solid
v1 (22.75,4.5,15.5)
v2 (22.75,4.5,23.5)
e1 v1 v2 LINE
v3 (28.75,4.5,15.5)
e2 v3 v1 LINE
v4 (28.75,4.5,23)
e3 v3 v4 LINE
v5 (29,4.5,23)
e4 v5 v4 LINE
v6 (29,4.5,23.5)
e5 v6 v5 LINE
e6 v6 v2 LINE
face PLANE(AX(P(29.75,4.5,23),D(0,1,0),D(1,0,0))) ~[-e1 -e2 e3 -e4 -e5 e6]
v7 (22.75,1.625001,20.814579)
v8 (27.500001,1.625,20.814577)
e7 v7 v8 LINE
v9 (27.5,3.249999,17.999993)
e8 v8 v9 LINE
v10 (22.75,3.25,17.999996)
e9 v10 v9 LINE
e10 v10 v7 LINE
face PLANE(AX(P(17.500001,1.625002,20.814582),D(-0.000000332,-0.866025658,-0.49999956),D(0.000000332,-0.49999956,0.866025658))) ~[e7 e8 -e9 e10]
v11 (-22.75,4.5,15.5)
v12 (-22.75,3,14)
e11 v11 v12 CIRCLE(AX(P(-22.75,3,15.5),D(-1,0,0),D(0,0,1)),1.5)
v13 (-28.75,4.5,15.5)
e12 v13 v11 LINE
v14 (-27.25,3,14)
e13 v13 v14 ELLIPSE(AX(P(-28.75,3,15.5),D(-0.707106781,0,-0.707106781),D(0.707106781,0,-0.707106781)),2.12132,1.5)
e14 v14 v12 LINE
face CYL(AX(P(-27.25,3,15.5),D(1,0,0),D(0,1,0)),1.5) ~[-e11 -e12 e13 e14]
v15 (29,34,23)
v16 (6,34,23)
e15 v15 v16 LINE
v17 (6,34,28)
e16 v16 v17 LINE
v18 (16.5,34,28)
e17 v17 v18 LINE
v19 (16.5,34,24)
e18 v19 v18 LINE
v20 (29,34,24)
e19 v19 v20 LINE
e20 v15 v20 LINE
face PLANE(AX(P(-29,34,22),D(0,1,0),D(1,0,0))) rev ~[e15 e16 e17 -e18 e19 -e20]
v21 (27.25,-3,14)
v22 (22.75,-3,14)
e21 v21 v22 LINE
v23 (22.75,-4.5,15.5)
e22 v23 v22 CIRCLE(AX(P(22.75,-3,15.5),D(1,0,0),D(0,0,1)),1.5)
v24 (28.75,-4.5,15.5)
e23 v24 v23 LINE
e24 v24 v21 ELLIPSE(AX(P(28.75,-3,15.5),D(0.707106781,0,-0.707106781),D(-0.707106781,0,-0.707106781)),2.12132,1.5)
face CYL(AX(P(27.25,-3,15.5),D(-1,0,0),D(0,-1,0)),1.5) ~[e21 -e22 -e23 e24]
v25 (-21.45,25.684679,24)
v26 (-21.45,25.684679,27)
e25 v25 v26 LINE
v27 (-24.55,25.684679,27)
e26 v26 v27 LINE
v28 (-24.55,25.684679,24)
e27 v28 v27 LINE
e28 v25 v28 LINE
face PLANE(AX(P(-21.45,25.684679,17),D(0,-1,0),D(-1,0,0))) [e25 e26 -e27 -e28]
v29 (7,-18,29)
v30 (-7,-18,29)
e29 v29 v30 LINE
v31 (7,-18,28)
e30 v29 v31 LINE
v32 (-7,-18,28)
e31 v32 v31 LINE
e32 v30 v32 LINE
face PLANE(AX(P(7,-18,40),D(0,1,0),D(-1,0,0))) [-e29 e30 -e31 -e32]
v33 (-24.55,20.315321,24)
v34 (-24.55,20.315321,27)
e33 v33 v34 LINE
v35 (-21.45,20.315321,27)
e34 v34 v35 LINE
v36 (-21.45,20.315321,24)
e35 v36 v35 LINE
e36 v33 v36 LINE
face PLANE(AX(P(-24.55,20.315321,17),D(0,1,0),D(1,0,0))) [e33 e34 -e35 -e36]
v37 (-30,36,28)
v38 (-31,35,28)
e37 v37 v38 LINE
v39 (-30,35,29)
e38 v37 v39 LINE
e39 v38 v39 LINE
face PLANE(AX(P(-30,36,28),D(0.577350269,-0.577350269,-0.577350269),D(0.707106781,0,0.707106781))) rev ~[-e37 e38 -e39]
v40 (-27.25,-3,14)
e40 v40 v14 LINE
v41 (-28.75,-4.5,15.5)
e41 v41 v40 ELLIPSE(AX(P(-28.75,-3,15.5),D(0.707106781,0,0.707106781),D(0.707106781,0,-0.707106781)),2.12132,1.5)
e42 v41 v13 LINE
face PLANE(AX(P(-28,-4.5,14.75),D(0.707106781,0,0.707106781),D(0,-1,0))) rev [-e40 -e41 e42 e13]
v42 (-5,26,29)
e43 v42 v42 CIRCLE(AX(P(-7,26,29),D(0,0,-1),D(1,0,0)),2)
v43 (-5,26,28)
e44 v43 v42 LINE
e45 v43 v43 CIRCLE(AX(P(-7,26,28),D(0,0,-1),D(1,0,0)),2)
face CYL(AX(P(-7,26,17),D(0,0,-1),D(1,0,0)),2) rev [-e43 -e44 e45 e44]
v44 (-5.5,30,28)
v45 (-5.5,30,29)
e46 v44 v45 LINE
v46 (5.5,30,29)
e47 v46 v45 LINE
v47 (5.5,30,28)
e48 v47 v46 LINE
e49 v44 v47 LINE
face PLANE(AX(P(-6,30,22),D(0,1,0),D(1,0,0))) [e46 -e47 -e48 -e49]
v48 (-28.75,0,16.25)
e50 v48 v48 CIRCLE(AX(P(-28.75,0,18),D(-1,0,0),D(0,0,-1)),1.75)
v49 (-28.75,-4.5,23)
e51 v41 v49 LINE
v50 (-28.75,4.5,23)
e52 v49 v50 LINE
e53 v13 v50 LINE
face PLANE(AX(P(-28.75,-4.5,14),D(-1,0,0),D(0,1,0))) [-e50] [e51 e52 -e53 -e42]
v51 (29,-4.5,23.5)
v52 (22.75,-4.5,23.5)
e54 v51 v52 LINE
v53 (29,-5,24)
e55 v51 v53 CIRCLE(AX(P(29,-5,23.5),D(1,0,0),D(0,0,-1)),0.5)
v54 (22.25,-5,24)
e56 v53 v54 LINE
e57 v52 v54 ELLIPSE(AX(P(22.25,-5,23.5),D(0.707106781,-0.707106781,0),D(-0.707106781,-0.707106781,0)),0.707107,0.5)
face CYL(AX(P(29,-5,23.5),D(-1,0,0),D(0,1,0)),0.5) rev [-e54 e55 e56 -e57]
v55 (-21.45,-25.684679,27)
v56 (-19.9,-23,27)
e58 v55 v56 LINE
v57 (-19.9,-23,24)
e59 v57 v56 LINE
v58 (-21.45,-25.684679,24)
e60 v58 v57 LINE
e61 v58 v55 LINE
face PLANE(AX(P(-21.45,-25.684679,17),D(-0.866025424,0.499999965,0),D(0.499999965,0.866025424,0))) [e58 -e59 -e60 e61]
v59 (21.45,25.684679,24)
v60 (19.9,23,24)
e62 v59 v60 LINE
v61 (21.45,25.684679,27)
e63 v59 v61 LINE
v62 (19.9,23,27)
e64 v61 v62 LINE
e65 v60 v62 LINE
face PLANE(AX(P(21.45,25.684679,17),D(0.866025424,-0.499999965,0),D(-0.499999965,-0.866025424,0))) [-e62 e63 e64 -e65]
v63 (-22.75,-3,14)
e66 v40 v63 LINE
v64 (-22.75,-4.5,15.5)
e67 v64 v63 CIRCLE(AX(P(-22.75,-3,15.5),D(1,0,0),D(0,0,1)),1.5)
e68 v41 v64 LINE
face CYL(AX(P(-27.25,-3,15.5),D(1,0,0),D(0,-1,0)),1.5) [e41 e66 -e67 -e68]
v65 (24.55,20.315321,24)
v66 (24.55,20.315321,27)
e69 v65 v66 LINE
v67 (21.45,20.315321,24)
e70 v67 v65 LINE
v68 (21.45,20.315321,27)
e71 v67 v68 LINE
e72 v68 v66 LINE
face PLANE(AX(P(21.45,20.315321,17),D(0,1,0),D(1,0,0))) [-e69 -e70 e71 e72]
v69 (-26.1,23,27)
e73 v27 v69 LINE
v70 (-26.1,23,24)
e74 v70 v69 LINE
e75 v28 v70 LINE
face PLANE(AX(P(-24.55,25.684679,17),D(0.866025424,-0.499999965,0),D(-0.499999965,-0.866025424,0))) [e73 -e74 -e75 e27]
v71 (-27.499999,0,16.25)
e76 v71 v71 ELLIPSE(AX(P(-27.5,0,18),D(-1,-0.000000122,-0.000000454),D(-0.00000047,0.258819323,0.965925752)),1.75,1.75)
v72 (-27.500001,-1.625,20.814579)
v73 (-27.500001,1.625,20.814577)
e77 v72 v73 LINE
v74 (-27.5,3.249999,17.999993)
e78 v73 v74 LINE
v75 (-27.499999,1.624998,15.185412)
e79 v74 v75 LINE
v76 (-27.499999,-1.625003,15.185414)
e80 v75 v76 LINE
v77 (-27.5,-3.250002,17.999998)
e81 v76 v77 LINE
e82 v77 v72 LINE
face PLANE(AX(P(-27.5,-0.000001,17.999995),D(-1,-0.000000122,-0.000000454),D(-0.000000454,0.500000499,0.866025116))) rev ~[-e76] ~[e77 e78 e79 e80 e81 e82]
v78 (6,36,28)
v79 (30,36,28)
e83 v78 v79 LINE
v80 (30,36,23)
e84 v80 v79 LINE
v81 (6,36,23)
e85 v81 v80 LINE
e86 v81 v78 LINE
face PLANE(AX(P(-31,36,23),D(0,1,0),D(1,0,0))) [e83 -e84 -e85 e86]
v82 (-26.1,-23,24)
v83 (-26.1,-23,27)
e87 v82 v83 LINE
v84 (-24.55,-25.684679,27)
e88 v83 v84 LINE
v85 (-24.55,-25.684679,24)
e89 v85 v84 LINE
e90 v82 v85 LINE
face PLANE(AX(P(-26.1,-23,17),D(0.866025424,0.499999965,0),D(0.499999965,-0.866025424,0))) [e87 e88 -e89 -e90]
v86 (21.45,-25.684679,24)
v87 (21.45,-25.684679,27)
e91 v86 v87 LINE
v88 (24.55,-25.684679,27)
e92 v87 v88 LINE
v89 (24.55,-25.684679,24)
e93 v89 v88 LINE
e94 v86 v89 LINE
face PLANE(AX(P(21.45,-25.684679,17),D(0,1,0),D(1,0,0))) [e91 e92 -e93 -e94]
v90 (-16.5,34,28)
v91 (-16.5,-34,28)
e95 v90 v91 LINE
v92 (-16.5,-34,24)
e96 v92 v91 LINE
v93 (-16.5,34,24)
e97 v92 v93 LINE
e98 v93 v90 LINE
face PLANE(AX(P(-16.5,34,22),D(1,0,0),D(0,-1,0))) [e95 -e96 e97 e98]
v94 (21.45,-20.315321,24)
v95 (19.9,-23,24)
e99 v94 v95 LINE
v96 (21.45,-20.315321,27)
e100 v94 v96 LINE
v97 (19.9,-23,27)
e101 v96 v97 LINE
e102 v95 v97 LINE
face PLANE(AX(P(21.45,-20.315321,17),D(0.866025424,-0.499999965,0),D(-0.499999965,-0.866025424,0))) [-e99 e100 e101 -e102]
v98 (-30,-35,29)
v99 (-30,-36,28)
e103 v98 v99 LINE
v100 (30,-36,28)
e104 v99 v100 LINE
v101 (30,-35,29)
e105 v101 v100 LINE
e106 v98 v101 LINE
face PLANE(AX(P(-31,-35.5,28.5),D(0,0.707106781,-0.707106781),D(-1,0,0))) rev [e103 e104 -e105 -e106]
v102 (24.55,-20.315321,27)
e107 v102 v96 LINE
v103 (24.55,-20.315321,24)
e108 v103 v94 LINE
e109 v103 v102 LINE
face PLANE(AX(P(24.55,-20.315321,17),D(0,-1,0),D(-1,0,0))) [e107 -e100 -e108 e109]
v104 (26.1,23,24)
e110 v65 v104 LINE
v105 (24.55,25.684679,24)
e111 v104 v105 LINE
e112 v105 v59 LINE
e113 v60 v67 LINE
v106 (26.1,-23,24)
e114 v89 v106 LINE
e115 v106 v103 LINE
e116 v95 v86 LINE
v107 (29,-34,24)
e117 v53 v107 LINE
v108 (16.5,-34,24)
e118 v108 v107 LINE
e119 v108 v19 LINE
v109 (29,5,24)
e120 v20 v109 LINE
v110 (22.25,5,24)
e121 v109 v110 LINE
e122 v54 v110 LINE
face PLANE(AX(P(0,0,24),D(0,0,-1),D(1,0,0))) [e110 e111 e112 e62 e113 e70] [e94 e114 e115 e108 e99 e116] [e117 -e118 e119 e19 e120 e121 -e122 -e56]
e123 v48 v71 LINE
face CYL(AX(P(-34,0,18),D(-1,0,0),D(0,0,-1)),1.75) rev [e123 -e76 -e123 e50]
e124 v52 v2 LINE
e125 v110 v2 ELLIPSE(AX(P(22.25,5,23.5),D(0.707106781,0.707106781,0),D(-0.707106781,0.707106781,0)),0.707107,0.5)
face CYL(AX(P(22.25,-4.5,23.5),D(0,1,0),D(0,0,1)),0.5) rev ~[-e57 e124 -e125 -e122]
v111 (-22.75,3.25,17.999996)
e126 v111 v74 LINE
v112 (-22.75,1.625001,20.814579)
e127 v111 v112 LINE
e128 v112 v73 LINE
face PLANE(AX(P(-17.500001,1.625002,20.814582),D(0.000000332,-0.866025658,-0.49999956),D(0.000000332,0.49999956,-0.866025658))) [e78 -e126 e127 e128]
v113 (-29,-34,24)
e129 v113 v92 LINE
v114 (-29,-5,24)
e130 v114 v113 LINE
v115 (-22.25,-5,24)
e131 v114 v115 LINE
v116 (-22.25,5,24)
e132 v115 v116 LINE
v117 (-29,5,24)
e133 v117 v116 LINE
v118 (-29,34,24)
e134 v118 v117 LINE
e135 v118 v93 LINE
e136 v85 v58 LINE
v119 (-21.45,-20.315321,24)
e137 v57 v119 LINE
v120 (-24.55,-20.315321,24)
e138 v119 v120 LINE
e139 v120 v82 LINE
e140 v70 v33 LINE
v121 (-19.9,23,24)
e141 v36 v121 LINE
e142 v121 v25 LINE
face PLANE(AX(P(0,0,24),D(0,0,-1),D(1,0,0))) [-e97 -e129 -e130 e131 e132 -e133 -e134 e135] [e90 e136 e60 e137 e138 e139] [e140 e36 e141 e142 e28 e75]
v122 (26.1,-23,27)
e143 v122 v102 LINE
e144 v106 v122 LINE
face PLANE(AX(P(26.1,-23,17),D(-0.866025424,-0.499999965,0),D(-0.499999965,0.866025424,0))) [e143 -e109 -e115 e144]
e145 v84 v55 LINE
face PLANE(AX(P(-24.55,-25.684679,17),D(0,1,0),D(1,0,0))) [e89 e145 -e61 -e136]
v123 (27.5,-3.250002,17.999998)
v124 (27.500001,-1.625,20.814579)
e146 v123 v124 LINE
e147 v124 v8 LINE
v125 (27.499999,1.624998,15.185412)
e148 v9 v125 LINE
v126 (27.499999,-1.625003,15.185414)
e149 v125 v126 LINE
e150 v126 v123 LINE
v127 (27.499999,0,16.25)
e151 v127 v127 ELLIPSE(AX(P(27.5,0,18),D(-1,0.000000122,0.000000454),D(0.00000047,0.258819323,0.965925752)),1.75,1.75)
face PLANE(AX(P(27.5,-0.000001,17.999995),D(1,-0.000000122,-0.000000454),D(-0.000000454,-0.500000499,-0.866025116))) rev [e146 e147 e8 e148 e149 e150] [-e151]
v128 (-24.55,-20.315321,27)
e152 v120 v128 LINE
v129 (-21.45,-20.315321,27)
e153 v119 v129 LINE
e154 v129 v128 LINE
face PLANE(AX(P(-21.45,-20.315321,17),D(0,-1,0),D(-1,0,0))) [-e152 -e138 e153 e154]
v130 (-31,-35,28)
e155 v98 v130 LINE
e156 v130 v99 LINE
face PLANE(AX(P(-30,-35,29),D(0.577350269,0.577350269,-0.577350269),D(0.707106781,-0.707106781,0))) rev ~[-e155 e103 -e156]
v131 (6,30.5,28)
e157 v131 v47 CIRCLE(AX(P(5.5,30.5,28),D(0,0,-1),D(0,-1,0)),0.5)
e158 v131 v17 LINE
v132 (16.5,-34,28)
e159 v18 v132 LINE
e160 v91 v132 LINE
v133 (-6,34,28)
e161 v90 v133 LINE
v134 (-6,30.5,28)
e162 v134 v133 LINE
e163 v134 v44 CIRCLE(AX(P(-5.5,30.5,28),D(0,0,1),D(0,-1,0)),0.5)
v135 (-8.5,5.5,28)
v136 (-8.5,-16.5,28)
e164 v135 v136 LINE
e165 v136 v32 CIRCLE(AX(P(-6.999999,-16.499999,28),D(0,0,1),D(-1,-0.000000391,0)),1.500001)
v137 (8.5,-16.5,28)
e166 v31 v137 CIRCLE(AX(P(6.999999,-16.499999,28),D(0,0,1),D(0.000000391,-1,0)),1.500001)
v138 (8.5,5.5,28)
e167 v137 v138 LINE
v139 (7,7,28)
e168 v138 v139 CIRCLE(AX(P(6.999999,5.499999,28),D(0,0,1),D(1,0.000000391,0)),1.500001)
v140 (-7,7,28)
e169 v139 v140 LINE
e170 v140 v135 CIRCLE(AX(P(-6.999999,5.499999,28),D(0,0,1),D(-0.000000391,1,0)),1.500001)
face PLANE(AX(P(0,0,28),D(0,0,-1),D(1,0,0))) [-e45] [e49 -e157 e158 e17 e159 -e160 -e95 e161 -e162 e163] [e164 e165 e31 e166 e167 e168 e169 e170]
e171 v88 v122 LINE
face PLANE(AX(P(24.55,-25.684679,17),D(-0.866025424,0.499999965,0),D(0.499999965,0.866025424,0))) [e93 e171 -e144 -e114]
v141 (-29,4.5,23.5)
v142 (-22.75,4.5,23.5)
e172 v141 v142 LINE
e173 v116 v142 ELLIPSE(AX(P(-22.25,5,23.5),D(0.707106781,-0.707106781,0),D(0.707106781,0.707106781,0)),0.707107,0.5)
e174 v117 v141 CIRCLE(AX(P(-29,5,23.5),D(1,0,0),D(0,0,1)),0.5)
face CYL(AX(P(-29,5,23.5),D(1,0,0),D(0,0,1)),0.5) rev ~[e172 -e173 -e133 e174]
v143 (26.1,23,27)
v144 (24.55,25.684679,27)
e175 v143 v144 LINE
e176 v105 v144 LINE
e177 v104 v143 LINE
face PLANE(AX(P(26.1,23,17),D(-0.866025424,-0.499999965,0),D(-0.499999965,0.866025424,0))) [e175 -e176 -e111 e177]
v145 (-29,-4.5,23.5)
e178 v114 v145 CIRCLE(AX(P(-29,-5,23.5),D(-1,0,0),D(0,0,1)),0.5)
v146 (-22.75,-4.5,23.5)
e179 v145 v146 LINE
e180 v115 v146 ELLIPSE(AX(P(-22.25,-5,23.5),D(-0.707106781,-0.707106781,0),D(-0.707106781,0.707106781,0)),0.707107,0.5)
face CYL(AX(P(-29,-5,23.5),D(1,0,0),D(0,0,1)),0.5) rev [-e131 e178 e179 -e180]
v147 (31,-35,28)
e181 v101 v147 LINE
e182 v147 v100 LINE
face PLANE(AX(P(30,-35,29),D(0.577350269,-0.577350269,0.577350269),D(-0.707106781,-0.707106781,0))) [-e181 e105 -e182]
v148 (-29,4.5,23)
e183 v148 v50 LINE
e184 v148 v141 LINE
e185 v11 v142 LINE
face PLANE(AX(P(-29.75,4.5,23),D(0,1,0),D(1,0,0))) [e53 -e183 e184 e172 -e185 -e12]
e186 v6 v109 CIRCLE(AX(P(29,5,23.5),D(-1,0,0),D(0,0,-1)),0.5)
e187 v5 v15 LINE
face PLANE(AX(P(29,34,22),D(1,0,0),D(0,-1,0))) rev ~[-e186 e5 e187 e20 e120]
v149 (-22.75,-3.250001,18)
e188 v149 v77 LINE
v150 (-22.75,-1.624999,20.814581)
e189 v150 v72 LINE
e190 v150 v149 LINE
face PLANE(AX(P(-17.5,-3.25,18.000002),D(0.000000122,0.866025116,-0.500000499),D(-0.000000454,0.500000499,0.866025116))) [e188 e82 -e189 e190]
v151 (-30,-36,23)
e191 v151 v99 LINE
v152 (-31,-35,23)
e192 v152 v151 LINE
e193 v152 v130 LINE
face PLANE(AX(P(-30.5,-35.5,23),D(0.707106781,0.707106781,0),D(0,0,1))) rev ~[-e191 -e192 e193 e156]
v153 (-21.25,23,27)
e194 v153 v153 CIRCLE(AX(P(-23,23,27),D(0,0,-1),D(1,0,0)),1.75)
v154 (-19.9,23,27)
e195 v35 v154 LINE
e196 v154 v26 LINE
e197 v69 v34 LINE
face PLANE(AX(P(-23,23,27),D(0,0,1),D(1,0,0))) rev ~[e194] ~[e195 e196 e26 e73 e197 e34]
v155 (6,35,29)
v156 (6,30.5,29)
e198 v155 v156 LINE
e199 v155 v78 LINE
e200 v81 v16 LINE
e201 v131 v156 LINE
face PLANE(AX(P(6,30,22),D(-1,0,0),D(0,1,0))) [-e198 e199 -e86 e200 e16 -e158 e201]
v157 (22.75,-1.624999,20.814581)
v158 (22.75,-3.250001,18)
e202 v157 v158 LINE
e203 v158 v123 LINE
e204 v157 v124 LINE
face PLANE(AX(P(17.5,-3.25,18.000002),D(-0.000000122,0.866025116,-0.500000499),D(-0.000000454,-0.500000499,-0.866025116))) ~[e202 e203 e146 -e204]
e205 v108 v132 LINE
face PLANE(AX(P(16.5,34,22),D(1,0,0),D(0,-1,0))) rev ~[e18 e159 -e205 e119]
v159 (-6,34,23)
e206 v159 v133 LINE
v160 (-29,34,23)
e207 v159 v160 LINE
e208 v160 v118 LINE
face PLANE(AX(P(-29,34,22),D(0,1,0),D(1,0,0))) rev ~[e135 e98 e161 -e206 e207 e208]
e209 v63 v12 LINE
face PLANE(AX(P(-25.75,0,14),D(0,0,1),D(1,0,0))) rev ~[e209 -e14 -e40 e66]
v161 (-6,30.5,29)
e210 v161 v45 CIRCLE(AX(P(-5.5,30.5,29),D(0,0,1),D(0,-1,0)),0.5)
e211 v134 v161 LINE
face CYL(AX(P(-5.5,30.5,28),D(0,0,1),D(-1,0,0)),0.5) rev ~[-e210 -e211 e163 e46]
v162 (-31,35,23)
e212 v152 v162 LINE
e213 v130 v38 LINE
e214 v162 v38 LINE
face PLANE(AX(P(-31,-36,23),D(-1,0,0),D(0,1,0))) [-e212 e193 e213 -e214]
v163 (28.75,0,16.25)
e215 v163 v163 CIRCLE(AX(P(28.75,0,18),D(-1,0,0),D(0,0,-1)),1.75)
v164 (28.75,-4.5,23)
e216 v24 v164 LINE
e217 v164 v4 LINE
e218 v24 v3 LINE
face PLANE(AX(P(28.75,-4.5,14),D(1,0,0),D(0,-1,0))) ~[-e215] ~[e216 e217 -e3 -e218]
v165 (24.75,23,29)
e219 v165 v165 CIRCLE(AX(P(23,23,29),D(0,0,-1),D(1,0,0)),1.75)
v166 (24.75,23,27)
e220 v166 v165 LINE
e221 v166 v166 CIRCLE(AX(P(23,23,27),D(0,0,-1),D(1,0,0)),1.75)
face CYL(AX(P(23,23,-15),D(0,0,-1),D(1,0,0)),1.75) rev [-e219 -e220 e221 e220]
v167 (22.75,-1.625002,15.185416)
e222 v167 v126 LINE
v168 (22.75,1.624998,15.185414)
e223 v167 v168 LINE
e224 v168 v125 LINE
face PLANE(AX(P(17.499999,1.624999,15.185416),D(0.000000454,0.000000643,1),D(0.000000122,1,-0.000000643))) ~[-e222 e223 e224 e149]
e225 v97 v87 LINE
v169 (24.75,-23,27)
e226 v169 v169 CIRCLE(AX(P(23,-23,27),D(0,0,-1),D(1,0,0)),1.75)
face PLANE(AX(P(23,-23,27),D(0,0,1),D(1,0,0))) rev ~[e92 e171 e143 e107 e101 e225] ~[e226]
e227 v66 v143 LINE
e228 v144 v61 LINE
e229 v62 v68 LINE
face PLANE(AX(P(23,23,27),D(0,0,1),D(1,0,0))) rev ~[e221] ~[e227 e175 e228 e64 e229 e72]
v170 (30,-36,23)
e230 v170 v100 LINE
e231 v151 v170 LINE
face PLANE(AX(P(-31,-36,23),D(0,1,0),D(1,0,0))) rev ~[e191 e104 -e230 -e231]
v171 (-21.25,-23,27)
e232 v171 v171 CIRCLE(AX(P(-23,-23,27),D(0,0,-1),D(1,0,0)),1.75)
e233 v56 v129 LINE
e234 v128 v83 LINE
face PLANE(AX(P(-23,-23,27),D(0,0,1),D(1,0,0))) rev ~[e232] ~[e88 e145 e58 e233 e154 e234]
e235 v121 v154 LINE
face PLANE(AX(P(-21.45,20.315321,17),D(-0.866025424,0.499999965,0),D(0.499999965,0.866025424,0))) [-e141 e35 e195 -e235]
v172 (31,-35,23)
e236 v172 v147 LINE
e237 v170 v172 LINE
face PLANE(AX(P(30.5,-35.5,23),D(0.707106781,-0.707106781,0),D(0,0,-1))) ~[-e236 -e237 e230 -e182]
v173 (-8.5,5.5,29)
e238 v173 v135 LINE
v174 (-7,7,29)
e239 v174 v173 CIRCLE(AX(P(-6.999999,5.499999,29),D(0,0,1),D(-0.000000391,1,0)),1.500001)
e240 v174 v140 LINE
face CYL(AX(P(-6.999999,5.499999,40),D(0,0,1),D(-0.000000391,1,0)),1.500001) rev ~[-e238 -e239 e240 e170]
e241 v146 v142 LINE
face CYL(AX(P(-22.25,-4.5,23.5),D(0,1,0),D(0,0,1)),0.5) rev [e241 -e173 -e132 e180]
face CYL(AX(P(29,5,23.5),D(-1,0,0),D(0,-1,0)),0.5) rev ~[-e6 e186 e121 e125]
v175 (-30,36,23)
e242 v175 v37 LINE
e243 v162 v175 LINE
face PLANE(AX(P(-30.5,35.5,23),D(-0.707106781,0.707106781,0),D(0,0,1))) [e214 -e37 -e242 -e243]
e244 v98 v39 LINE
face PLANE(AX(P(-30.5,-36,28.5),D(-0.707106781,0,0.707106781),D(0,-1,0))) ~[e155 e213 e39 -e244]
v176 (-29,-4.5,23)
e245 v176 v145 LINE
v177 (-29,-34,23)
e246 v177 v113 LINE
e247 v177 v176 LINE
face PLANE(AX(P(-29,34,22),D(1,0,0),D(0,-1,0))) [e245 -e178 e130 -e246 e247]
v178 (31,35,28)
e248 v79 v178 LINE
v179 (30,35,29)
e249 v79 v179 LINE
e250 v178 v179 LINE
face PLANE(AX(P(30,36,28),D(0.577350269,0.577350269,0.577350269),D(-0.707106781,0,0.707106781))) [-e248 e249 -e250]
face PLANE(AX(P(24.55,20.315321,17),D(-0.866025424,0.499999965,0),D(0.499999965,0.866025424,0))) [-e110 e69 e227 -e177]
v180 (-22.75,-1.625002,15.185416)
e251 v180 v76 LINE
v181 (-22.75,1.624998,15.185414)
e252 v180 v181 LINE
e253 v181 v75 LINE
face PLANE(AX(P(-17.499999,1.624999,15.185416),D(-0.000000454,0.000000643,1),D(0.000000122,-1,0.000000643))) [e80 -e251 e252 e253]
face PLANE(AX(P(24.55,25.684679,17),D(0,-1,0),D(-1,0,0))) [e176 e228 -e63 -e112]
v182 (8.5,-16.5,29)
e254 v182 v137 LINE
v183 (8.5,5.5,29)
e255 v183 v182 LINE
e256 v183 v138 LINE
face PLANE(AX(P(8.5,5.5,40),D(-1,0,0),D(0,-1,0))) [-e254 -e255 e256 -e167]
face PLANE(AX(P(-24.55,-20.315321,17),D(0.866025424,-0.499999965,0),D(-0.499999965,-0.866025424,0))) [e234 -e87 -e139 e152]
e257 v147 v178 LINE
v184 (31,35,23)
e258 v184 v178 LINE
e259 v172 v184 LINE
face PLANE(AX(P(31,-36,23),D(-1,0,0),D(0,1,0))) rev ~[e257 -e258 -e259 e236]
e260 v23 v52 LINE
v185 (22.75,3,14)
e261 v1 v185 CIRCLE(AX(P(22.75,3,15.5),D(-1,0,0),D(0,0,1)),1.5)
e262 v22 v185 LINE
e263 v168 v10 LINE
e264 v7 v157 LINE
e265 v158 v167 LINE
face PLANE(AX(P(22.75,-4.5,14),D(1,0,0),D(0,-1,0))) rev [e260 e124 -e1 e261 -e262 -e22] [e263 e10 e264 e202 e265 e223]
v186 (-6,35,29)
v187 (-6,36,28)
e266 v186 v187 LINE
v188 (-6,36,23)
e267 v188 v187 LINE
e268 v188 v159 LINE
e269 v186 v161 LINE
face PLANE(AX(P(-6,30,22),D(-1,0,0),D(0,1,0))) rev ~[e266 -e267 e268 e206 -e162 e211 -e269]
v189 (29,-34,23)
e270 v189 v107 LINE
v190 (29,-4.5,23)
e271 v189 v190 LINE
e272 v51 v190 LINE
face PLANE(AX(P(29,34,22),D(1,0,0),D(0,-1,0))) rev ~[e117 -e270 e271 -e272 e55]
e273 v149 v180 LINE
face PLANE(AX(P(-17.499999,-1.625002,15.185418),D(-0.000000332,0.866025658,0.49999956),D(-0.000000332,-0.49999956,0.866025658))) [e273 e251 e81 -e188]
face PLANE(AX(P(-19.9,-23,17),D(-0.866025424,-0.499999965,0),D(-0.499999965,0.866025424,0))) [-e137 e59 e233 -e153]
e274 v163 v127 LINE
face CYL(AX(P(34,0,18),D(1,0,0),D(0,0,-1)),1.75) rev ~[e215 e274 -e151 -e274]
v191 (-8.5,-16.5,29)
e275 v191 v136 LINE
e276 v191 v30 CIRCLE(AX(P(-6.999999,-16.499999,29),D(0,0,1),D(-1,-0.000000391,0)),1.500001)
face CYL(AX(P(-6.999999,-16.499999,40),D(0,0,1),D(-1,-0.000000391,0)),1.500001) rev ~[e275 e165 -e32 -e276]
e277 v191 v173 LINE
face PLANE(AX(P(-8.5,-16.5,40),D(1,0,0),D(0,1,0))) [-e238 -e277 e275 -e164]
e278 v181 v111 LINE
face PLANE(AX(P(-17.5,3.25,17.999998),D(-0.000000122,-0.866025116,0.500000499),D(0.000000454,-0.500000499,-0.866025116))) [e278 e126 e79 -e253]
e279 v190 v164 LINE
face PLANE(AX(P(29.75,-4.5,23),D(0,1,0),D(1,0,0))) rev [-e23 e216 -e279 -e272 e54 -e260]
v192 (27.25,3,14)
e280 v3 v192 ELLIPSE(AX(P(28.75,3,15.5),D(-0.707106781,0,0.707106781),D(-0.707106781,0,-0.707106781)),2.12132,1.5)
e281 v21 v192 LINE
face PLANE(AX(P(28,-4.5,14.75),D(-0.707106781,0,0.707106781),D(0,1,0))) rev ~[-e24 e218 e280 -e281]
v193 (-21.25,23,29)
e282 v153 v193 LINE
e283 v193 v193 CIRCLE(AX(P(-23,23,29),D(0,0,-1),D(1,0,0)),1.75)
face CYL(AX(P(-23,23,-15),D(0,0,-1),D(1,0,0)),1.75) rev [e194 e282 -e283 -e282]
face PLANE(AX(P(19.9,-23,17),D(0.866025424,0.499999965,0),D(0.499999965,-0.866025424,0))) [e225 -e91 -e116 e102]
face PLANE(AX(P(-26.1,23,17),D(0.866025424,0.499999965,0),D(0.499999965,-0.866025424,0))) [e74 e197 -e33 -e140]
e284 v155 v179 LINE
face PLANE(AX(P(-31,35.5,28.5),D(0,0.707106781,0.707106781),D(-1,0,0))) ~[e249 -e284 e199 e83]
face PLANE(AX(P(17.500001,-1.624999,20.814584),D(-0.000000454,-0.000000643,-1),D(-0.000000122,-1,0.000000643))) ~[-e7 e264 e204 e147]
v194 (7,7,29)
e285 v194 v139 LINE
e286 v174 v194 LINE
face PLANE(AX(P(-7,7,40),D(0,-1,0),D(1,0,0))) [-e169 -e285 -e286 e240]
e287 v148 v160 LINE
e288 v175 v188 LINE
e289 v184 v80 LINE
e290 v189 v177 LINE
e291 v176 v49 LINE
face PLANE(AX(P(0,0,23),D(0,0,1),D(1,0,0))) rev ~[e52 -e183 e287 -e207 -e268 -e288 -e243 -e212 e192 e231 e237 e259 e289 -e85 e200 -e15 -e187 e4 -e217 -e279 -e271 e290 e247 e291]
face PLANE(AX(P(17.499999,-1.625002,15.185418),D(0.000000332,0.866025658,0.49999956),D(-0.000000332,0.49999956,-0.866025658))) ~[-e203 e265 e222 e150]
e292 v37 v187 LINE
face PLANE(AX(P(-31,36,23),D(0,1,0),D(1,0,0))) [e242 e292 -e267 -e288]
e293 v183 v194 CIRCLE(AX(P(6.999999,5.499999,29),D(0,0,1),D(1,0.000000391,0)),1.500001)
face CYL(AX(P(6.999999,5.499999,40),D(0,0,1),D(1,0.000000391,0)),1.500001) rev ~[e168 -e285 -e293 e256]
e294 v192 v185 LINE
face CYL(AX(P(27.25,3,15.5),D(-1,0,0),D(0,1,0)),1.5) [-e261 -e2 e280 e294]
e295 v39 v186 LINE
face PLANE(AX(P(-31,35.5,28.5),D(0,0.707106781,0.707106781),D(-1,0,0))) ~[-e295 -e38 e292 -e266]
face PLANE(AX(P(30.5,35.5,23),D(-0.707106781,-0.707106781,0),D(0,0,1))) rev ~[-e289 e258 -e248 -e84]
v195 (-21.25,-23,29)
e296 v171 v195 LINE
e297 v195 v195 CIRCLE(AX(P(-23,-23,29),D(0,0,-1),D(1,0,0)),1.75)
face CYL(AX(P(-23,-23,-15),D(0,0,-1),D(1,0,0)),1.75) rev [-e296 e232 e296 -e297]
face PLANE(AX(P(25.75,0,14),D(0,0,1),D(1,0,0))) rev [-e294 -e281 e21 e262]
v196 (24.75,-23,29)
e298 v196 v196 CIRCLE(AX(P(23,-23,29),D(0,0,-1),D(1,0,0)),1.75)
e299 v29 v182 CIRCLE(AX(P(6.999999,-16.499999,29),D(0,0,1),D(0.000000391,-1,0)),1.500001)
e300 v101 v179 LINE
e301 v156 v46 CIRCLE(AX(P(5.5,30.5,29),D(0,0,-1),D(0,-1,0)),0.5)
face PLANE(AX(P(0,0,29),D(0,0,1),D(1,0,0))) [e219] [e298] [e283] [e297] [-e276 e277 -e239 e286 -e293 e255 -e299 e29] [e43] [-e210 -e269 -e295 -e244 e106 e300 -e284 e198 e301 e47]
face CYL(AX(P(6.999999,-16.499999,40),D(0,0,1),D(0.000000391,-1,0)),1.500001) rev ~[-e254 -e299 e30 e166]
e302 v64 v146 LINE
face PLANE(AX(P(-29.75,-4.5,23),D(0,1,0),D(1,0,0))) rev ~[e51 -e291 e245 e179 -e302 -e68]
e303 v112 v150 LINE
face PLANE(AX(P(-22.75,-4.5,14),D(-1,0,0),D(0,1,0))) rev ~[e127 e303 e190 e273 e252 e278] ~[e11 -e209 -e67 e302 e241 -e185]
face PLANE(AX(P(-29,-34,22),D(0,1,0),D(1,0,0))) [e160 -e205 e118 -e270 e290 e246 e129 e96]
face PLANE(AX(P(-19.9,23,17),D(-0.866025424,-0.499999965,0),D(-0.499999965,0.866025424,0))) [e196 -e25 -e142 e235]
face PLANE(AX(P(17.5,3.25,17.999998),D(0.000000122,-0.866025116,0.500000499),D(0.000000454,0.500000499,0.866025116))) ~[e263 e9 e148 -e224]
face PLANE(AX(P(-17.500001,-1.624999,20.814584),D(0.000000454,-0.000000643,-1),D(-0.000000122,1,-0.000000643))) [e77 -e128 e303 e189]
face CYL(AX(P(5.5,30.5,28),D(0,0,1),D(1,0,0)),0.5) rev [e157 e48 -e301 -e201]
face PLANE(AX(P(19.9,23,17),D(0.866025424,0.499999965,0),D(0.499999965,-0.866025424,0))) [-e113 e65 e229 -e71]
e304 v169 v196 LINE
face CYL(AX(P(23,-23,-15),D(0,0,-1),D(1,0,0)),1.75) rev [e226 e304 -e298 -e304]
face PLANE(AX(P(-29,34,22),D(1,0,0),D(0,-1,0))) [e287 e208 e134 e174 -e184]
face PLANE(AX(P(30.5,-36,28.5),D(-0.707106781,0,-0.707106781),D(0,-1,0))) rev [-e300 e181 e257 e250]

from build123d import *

# Parameters (mm, degrees)
CYLINDER021_R            = 2
CYLINDER021_DEPTH        = 15
BOX014_W                 = 4
BOX014_H                 = 9
BOX014_DEPTH             = 3
PRISM010_DEPTH           = 10
PRISM010_ROLL_ANGLE      = -90.000052
PRISM010_PITCH_ANGLE     = -59.999967
PRISM010_PLACEMENT_ANGLE = 90.000052
CYLINDER019_R            = 1.75
CYLINDER019_DEPTH        = 68
CYLINDER019_PITCH_ANGLE  = 90
BOX013_W                 = 6
BOX013_H                 = 9
BOX013_DEPTH             = 11
CHAMFER008_SIZE          = 1.5
FILLET009_R              = 1.5
BOX012_W                 = 12
BOX012_H                 = 16
BOX012_DEPTH             = 10
PAD021_DEPTH             = 35
CYLINDER005_R            = 1.75
CYLINDER005_DEPTH        = 50
CYLINDER007_R            = 1.75
CYLINDER007_DEPTH        = 50
CYLINDER006_R            = 1.75
CYLINDER006_DEPTH        = 50
CYLINDER004_R            = 1.75
CYLINDER004_DEPTH        = 50
PRISM004_DEPTH           = 10
PRISM005_DEPTH           = 10
PRISM006_DEPTH           = 10
PRISM007_DEPTH           = 10
SKETCH001_W              = 58
SKETCH001_H              = 68
PAD001_DEPTH             = 2
SKETCH002_W              = 33
SKETCH002_H              = 68
PAD002_DEPTH             = 6
BOX009_W                 = 62
BOX009_H                 = 72
BOX009_DEPTH             = 6
CHAMFER001_SIZE          = 1
FILLET010_R              = 0.5


with BuildPart() as cilindro017:
    # Cylinder021 → Cylinder021 (new body)
    with BuildSketch(Plane(origin=(-7, 26, 17), x_dir=(1, 0, 0), z_dir=(0, 0, 1))):
        Circle(CYLINDER021_R)
    extrude(amount=CYLINDER021_DEPTH)


with BuildPart() as cubo014:
    # Box014 → Box014 (new body)
    with BuildSketch(Plane(origin=(-29.75, -4.5, 23), x_dir=(1, 0, 0), z_dir=(0, 0, 1))):
        with Locations((2, 4.5)):
            Rectangle(BOX014_W, BOX014_H)
    extrude(amount=BOX014_DEPTH)


with BuildPart() as prisma010:
    # Prism010 → Prism010 (new body)
    with BuildSketch(Plane.XY):
        Polygon((3.25, 0), (1.625, 2.814583), (-1.625, 2.814583), (-3.25, 0), (-1.625, -2.814583), (1.625, -2.814583), align=None)
    extrude(amount=PRISM010_DEPTH)


with BuildPart() as prisma010_1:
    # Prism010 roll: moved
    add(prisma010.part.rotate(Axis((0, 0, 0), (1, 0, 0)), PRISM010_ROLL_ANGLE))


with BuildPart() as prisma010_2:
    # Prism010 pitch: moved
    add(prisma010_1.part.rotate(Axis((0, 0, 0), (0, 1, 0)), PRISM010_PITCH_ANGLE))


with BuildPart() as prisma010_3:
    # Prism010 placement: moved
    add(prisma010_2.part.moved(Location((-17.5, 0, 18))).rotate(Axis((-17.5, 0, 18), (0, 0, 1)), PRISM010_PLACEMENT_ANGLE))


with BuildPart() as cilindro016:
    # Cylinder019 → Cylinder019 (new body)
    with BuildSketch(Plane.XY):
        Circle(CYLINDER019_R)
    extrude(amount=CYLINDER019_DEPTH)


with BuildPart() as cilindro016_1:
    # Cylinder019 pitch: moved
    add(cilindro016.part.rotate(Axis((0, 0, 0), (0, 1, 0)), CYLINDER019_PITCH_ANGLE))


with BuildPart() as cilindro016_2:
    # Cylinder019 placement: moved
    add(cilindro016_1.part.moved(Location((-34, 0, 18))))


with BuildPart() as fusion016:
    # Box013 → Box013 (new body)
    with BuildSketch(Plane(origin=(-28.75, -4.5, 14), x_dir=(1, 0, 0), z_dir=(0, 0, 1))):
        with Locations((3, 4.5)):
            Rectangle(BOX013_W, BOX013_H)
    extrude(amount=BOX013_DEPTH)

    # Cut028: cut Cilindro016
    add(cilindro016_2.part, mode=Mode.SUBTRACT)

    # Chamfer008
    chamfer008_edges = [fusion016.edges().sort_by_distance(p)[0] for p in [
        (-28.75, 0, 14),
    ]]
    chamfer(chamfer008_edges, length=CHAMFER008_SIZE)

    # Fillet009
    fillet009_edges = [fusion016.edges().sort_by_distance(p)[0] for p in [
        (-25, -4.5, 14),
        (-25, 4.5, 14),
    ]]
    fillet(fillet009_edges, radius=FILLET009_R)

    # Cut029: cut Prisma010
    add(prisma010_3.part, mode=Mode.SUBTRACT)

    # Fusion016: union Cubo014
    add(cubo014.part)


with BuildPart() as part_mirroring032:
    # Part__Mirroring032: instance of Fusion016
    add(fusion016.part.mirror(Plane(origin=(0, 0, 0), x_dir=(0, -1, 0), z_dir=(1, 0, 0))))


with BuildPart() as fusion017:
    # Fusion017 base: copy of Fusion016
    add(fusion016.part)

    # Fusion017: union Part__Mirroring032
    add(part_mirroring032.part)


with BuildPart() as cubo012:
    # Box012 → Box012 (new body)
    with BuildSketch(Plane(origin=(-6, 30, 22), x_dir=(1, 0, 0), z_dir=(0, 0, 1))):
        with Locations((6, 8)):
            Rectangle(BOX012_W, BOX012_H)
    extrude(amount=BOX012_DEPTH)


with BuildPart() as pad021:
    # Sketch018 → Pad021 (new body)
    with BuildSketch(Plane.XY.offset(40)):
        with BuildLine():
            Line((-7, 7), (7, 7))
            ThreePointArc((8.5, 5.5), (8.06066, 6.56066), (7, 7))
            Line((8.5, 5.5), (8.5, -16.5))
            ThreePointArc((7, -18), (8.06066, -17.56066), (8.5, -16.5))
            Line((7, -18), (-7, -18))
            ThreePointArc((-8.5, -16.5), (-8.06066, -17.56066), (-7, -18))
            Line((-8.5, -16.5), (-8.5, 5.5))
            ThreePointArc((-7, 7), (-8.06066, 6.56066), (-8.5, 5.5))
        make_face()
    extrude(amount=-PAD021_DEPTH)


with BuildPart() as cilindro005:
    # Cylinder005 → Cylinder005 (new body)
    with BuildSketch(Plane(origin=(23, 23, -15), x_dir=(1, 0, 0), z_dir=(0, 0, 1))):
        Circle(CYLINDER005_R)
    extrude(amount=CYLINDER005_DEPTH)


with BuildPart() as cilindro007:
    # Cylinder007 → Cylinder007 (new body)
    with BuildSketch(Plane(origin=(23, -23, -15), x_dir=(1, 0, 0), z_dir=(0, 0, 1))):
        Circle(CYLINDER007_R)
    extrude(amount=CYLINDER007_DEPTH)


with BuildPart() as cilindro006:
    # Cylinder006 → Cylinder006 (new body)
    with BuildSketch(Plane(origin=(-23, -23, -15), x_dir=(1, 0, 0), z_dir=(0, 0, 1))):
        Circle(CYLINDER006_R)
    extrude(amount=CYLINDER006_DEPTH)


with BuildPart() as fusion002:
    # Cylinder004 → Cylinder004 (new body)
    with BuildSketch(Plane(origin=(-23, 23, -15), x_dir=(1, 0, 0), z_dir=(0, 0, 1))):
        Circle(CYLINDER004_R)
    extrude(amount=CYLINDER004_DEPTH)

    # Fusion002: union Cilindro005, Cilindro007, Cilindro006
    add(cilindro005.part)
    add(cilindro007.part)
    add(cilindro006.part)


with BuildPart() as prisma004:
    # Prism004 → Prism004 (new body)
    with BuildSketch(Plane(origin=(-23, 23, 0), x_dir=(1, 0, 0), z_dir=(0, 0, 1))):
        Polygon((3.1, 0), (1.55, 2.684679), (-1.55, 2.684679), (-3.1, 0), (-1.55, -2.684679), (1.55, -2.684679), align=None)
    extrude(amount=PRISM004_DEPTH)


with BuildPart() as prisma005:
    # Prism005 → Prism005 (new body)
    with BuildSketch(Plane(origin=(23, 23, 0), x_dir=(1, 0, 0), z_dir=(0, 0, 1))):
        Polygon((3.1, 0), (1.55, 2.684679), (-1.55, 2.684679), (-3.1, 0), (-1.55, -2.684679), (1.55, -2.684679), align=None)
    extrude(amount=PRISM005_DEPTH)


with BuildPart() as prisma006:
    # Prism006 → Prism006 (new body)
    with BuildSketch(Plane(origin=(-23, -23, 0), x_dir=(1, 0, 0), z_dir=(0, 0, 1))):
        Polygon((3.1, 0), (1.55, 2.684679), (-1.55, 2.684679), (-3.1, 0), (-1.55, -2.684679), (1.55, -2.684679), align=None)
    extrude(amount=PRISM006_DEPTH)


with BuildPart() as fusion004:
    # Prism007 → Prism007 (new body)
    with BuildSketch(Plane(origin=(23, -23, 0), x_dir=(1, 0, 0), z_dir=(0, 0, 1))):
        Polygon((3.1, 0), (1.55, 2.684679), (-1.55, 2.684679), (-3.1, 0), (-1.55, -2.684679), (1.55, -2.684679), align=None)
    extrude(amount=PRISM007_DEPTH)

    # Fusion004: union Prisma004, Prisma005, Prisma006
    add(prisma004.part)
    add(prisma005.part)
    add(prisma006.part)


with BuildPart() as fusion004_1:
    # Fusion004 placement: moved
    add(fusion004.part.moved(Location((0, 0, 17))))


with BuildPart() as pad001:
    # Sketch001 → Pad001 (new body)
    with BuildSketch(Plane(origin=(0, 0, 23), x_dir=(1, 0, 0), z_dir=(0, 0, -1))):
        Rectangle(SKETCH001_W, SKETCH001_H)
    extrude(amount=-PAD001_DEPTH)


with BuildPart() as fusion003:
    # Sketch002 → Pad002 (new body)
    with BuildSketch(Plane(origin=(0, 0, 23), x_dir=(1, 0, 0), z_dir=(0, 0, -1))):
        Rectangle(SKETCH002_W, SKETCH002_H)
    extrude(amount=-PAD002_DEPTH)

    # Fusion003: union Pad001
    add(pad001.part)


with BuildPart() as fusion003_1:
    # Fusion003 placement: moved
    add(fusion003.part.moved(Location((0, 0, -1))))


with BuildPart() as clone_of_bodya:
    # Box009 → Box009 (new body)
    with BuildSketch(Plane(origin=(-31, -36, 23), x_dir=(1, 0, 0), z_dir=(0, 0, 1))):
        with Locations((31, 36)):
            Rectangle(BOX009_W, BOX009_H)
    extrude(amount=BOX009_DEPTH)

    # Chamfer001
    chamfer001_edges = [clone_of_bodya.edges().sort_by_distance(p)[0] for p in [
        (-31, -36, 26),
        (-31, 0, 29),
        (-31, 36, 26),
        (31, -36, 26),
        (31, 0, 29),
        (31, 36, 26),
        (0, -36, 29),
        (0, 36, 29),
    ]]
    chamfer(chamfer001_edges, length=CHAMFER001_SIZE)

    # Cut004: cut Fusion003
    add(fusion003_1.part, mode=Mode.SUBTRACT)

    # Cut005: cut Fusion004
    add(fusion004_1.part, mode=Mode.SUBTRACT)

    # Cut006: cut Fusion002
    add(fusion002.part, mode=Mode.SUBTRACT)

    # Cut023: cut Pad021
    add(pad021.part, mode=Mode.SUBTRACT)

    # Cut027: cut Cubo012
    add(cubo012.part, mode=Mode.SUBTRACT)

    # Fusion018: union Fusion017
    add(fusion017.part)

    # Fillet010
    fillet010_edges = [clone_of_bodya.edges().sort_by_distance(p)[0] for p in [
        (-6, 30, 28.5),
        (6, 30, 28.5),
        (-24.25, 4.5, 24),
        (-22.75, 0, 24),
        (-24.25, -4.5, 24),
        (28.875, -4.5, 24),
        (24.25, -4.5, 24),
        (22.75, 0, 24),
        (24.25, 4.5, 24),
    ]]
    fillet(fillet010_edges, radius=FILLET010_R)

    # Cut032: cut Cilindro017
    add(cilindro017.part, mode=Mode.SUBTRACT)


solid = clone_of_bodya.part
